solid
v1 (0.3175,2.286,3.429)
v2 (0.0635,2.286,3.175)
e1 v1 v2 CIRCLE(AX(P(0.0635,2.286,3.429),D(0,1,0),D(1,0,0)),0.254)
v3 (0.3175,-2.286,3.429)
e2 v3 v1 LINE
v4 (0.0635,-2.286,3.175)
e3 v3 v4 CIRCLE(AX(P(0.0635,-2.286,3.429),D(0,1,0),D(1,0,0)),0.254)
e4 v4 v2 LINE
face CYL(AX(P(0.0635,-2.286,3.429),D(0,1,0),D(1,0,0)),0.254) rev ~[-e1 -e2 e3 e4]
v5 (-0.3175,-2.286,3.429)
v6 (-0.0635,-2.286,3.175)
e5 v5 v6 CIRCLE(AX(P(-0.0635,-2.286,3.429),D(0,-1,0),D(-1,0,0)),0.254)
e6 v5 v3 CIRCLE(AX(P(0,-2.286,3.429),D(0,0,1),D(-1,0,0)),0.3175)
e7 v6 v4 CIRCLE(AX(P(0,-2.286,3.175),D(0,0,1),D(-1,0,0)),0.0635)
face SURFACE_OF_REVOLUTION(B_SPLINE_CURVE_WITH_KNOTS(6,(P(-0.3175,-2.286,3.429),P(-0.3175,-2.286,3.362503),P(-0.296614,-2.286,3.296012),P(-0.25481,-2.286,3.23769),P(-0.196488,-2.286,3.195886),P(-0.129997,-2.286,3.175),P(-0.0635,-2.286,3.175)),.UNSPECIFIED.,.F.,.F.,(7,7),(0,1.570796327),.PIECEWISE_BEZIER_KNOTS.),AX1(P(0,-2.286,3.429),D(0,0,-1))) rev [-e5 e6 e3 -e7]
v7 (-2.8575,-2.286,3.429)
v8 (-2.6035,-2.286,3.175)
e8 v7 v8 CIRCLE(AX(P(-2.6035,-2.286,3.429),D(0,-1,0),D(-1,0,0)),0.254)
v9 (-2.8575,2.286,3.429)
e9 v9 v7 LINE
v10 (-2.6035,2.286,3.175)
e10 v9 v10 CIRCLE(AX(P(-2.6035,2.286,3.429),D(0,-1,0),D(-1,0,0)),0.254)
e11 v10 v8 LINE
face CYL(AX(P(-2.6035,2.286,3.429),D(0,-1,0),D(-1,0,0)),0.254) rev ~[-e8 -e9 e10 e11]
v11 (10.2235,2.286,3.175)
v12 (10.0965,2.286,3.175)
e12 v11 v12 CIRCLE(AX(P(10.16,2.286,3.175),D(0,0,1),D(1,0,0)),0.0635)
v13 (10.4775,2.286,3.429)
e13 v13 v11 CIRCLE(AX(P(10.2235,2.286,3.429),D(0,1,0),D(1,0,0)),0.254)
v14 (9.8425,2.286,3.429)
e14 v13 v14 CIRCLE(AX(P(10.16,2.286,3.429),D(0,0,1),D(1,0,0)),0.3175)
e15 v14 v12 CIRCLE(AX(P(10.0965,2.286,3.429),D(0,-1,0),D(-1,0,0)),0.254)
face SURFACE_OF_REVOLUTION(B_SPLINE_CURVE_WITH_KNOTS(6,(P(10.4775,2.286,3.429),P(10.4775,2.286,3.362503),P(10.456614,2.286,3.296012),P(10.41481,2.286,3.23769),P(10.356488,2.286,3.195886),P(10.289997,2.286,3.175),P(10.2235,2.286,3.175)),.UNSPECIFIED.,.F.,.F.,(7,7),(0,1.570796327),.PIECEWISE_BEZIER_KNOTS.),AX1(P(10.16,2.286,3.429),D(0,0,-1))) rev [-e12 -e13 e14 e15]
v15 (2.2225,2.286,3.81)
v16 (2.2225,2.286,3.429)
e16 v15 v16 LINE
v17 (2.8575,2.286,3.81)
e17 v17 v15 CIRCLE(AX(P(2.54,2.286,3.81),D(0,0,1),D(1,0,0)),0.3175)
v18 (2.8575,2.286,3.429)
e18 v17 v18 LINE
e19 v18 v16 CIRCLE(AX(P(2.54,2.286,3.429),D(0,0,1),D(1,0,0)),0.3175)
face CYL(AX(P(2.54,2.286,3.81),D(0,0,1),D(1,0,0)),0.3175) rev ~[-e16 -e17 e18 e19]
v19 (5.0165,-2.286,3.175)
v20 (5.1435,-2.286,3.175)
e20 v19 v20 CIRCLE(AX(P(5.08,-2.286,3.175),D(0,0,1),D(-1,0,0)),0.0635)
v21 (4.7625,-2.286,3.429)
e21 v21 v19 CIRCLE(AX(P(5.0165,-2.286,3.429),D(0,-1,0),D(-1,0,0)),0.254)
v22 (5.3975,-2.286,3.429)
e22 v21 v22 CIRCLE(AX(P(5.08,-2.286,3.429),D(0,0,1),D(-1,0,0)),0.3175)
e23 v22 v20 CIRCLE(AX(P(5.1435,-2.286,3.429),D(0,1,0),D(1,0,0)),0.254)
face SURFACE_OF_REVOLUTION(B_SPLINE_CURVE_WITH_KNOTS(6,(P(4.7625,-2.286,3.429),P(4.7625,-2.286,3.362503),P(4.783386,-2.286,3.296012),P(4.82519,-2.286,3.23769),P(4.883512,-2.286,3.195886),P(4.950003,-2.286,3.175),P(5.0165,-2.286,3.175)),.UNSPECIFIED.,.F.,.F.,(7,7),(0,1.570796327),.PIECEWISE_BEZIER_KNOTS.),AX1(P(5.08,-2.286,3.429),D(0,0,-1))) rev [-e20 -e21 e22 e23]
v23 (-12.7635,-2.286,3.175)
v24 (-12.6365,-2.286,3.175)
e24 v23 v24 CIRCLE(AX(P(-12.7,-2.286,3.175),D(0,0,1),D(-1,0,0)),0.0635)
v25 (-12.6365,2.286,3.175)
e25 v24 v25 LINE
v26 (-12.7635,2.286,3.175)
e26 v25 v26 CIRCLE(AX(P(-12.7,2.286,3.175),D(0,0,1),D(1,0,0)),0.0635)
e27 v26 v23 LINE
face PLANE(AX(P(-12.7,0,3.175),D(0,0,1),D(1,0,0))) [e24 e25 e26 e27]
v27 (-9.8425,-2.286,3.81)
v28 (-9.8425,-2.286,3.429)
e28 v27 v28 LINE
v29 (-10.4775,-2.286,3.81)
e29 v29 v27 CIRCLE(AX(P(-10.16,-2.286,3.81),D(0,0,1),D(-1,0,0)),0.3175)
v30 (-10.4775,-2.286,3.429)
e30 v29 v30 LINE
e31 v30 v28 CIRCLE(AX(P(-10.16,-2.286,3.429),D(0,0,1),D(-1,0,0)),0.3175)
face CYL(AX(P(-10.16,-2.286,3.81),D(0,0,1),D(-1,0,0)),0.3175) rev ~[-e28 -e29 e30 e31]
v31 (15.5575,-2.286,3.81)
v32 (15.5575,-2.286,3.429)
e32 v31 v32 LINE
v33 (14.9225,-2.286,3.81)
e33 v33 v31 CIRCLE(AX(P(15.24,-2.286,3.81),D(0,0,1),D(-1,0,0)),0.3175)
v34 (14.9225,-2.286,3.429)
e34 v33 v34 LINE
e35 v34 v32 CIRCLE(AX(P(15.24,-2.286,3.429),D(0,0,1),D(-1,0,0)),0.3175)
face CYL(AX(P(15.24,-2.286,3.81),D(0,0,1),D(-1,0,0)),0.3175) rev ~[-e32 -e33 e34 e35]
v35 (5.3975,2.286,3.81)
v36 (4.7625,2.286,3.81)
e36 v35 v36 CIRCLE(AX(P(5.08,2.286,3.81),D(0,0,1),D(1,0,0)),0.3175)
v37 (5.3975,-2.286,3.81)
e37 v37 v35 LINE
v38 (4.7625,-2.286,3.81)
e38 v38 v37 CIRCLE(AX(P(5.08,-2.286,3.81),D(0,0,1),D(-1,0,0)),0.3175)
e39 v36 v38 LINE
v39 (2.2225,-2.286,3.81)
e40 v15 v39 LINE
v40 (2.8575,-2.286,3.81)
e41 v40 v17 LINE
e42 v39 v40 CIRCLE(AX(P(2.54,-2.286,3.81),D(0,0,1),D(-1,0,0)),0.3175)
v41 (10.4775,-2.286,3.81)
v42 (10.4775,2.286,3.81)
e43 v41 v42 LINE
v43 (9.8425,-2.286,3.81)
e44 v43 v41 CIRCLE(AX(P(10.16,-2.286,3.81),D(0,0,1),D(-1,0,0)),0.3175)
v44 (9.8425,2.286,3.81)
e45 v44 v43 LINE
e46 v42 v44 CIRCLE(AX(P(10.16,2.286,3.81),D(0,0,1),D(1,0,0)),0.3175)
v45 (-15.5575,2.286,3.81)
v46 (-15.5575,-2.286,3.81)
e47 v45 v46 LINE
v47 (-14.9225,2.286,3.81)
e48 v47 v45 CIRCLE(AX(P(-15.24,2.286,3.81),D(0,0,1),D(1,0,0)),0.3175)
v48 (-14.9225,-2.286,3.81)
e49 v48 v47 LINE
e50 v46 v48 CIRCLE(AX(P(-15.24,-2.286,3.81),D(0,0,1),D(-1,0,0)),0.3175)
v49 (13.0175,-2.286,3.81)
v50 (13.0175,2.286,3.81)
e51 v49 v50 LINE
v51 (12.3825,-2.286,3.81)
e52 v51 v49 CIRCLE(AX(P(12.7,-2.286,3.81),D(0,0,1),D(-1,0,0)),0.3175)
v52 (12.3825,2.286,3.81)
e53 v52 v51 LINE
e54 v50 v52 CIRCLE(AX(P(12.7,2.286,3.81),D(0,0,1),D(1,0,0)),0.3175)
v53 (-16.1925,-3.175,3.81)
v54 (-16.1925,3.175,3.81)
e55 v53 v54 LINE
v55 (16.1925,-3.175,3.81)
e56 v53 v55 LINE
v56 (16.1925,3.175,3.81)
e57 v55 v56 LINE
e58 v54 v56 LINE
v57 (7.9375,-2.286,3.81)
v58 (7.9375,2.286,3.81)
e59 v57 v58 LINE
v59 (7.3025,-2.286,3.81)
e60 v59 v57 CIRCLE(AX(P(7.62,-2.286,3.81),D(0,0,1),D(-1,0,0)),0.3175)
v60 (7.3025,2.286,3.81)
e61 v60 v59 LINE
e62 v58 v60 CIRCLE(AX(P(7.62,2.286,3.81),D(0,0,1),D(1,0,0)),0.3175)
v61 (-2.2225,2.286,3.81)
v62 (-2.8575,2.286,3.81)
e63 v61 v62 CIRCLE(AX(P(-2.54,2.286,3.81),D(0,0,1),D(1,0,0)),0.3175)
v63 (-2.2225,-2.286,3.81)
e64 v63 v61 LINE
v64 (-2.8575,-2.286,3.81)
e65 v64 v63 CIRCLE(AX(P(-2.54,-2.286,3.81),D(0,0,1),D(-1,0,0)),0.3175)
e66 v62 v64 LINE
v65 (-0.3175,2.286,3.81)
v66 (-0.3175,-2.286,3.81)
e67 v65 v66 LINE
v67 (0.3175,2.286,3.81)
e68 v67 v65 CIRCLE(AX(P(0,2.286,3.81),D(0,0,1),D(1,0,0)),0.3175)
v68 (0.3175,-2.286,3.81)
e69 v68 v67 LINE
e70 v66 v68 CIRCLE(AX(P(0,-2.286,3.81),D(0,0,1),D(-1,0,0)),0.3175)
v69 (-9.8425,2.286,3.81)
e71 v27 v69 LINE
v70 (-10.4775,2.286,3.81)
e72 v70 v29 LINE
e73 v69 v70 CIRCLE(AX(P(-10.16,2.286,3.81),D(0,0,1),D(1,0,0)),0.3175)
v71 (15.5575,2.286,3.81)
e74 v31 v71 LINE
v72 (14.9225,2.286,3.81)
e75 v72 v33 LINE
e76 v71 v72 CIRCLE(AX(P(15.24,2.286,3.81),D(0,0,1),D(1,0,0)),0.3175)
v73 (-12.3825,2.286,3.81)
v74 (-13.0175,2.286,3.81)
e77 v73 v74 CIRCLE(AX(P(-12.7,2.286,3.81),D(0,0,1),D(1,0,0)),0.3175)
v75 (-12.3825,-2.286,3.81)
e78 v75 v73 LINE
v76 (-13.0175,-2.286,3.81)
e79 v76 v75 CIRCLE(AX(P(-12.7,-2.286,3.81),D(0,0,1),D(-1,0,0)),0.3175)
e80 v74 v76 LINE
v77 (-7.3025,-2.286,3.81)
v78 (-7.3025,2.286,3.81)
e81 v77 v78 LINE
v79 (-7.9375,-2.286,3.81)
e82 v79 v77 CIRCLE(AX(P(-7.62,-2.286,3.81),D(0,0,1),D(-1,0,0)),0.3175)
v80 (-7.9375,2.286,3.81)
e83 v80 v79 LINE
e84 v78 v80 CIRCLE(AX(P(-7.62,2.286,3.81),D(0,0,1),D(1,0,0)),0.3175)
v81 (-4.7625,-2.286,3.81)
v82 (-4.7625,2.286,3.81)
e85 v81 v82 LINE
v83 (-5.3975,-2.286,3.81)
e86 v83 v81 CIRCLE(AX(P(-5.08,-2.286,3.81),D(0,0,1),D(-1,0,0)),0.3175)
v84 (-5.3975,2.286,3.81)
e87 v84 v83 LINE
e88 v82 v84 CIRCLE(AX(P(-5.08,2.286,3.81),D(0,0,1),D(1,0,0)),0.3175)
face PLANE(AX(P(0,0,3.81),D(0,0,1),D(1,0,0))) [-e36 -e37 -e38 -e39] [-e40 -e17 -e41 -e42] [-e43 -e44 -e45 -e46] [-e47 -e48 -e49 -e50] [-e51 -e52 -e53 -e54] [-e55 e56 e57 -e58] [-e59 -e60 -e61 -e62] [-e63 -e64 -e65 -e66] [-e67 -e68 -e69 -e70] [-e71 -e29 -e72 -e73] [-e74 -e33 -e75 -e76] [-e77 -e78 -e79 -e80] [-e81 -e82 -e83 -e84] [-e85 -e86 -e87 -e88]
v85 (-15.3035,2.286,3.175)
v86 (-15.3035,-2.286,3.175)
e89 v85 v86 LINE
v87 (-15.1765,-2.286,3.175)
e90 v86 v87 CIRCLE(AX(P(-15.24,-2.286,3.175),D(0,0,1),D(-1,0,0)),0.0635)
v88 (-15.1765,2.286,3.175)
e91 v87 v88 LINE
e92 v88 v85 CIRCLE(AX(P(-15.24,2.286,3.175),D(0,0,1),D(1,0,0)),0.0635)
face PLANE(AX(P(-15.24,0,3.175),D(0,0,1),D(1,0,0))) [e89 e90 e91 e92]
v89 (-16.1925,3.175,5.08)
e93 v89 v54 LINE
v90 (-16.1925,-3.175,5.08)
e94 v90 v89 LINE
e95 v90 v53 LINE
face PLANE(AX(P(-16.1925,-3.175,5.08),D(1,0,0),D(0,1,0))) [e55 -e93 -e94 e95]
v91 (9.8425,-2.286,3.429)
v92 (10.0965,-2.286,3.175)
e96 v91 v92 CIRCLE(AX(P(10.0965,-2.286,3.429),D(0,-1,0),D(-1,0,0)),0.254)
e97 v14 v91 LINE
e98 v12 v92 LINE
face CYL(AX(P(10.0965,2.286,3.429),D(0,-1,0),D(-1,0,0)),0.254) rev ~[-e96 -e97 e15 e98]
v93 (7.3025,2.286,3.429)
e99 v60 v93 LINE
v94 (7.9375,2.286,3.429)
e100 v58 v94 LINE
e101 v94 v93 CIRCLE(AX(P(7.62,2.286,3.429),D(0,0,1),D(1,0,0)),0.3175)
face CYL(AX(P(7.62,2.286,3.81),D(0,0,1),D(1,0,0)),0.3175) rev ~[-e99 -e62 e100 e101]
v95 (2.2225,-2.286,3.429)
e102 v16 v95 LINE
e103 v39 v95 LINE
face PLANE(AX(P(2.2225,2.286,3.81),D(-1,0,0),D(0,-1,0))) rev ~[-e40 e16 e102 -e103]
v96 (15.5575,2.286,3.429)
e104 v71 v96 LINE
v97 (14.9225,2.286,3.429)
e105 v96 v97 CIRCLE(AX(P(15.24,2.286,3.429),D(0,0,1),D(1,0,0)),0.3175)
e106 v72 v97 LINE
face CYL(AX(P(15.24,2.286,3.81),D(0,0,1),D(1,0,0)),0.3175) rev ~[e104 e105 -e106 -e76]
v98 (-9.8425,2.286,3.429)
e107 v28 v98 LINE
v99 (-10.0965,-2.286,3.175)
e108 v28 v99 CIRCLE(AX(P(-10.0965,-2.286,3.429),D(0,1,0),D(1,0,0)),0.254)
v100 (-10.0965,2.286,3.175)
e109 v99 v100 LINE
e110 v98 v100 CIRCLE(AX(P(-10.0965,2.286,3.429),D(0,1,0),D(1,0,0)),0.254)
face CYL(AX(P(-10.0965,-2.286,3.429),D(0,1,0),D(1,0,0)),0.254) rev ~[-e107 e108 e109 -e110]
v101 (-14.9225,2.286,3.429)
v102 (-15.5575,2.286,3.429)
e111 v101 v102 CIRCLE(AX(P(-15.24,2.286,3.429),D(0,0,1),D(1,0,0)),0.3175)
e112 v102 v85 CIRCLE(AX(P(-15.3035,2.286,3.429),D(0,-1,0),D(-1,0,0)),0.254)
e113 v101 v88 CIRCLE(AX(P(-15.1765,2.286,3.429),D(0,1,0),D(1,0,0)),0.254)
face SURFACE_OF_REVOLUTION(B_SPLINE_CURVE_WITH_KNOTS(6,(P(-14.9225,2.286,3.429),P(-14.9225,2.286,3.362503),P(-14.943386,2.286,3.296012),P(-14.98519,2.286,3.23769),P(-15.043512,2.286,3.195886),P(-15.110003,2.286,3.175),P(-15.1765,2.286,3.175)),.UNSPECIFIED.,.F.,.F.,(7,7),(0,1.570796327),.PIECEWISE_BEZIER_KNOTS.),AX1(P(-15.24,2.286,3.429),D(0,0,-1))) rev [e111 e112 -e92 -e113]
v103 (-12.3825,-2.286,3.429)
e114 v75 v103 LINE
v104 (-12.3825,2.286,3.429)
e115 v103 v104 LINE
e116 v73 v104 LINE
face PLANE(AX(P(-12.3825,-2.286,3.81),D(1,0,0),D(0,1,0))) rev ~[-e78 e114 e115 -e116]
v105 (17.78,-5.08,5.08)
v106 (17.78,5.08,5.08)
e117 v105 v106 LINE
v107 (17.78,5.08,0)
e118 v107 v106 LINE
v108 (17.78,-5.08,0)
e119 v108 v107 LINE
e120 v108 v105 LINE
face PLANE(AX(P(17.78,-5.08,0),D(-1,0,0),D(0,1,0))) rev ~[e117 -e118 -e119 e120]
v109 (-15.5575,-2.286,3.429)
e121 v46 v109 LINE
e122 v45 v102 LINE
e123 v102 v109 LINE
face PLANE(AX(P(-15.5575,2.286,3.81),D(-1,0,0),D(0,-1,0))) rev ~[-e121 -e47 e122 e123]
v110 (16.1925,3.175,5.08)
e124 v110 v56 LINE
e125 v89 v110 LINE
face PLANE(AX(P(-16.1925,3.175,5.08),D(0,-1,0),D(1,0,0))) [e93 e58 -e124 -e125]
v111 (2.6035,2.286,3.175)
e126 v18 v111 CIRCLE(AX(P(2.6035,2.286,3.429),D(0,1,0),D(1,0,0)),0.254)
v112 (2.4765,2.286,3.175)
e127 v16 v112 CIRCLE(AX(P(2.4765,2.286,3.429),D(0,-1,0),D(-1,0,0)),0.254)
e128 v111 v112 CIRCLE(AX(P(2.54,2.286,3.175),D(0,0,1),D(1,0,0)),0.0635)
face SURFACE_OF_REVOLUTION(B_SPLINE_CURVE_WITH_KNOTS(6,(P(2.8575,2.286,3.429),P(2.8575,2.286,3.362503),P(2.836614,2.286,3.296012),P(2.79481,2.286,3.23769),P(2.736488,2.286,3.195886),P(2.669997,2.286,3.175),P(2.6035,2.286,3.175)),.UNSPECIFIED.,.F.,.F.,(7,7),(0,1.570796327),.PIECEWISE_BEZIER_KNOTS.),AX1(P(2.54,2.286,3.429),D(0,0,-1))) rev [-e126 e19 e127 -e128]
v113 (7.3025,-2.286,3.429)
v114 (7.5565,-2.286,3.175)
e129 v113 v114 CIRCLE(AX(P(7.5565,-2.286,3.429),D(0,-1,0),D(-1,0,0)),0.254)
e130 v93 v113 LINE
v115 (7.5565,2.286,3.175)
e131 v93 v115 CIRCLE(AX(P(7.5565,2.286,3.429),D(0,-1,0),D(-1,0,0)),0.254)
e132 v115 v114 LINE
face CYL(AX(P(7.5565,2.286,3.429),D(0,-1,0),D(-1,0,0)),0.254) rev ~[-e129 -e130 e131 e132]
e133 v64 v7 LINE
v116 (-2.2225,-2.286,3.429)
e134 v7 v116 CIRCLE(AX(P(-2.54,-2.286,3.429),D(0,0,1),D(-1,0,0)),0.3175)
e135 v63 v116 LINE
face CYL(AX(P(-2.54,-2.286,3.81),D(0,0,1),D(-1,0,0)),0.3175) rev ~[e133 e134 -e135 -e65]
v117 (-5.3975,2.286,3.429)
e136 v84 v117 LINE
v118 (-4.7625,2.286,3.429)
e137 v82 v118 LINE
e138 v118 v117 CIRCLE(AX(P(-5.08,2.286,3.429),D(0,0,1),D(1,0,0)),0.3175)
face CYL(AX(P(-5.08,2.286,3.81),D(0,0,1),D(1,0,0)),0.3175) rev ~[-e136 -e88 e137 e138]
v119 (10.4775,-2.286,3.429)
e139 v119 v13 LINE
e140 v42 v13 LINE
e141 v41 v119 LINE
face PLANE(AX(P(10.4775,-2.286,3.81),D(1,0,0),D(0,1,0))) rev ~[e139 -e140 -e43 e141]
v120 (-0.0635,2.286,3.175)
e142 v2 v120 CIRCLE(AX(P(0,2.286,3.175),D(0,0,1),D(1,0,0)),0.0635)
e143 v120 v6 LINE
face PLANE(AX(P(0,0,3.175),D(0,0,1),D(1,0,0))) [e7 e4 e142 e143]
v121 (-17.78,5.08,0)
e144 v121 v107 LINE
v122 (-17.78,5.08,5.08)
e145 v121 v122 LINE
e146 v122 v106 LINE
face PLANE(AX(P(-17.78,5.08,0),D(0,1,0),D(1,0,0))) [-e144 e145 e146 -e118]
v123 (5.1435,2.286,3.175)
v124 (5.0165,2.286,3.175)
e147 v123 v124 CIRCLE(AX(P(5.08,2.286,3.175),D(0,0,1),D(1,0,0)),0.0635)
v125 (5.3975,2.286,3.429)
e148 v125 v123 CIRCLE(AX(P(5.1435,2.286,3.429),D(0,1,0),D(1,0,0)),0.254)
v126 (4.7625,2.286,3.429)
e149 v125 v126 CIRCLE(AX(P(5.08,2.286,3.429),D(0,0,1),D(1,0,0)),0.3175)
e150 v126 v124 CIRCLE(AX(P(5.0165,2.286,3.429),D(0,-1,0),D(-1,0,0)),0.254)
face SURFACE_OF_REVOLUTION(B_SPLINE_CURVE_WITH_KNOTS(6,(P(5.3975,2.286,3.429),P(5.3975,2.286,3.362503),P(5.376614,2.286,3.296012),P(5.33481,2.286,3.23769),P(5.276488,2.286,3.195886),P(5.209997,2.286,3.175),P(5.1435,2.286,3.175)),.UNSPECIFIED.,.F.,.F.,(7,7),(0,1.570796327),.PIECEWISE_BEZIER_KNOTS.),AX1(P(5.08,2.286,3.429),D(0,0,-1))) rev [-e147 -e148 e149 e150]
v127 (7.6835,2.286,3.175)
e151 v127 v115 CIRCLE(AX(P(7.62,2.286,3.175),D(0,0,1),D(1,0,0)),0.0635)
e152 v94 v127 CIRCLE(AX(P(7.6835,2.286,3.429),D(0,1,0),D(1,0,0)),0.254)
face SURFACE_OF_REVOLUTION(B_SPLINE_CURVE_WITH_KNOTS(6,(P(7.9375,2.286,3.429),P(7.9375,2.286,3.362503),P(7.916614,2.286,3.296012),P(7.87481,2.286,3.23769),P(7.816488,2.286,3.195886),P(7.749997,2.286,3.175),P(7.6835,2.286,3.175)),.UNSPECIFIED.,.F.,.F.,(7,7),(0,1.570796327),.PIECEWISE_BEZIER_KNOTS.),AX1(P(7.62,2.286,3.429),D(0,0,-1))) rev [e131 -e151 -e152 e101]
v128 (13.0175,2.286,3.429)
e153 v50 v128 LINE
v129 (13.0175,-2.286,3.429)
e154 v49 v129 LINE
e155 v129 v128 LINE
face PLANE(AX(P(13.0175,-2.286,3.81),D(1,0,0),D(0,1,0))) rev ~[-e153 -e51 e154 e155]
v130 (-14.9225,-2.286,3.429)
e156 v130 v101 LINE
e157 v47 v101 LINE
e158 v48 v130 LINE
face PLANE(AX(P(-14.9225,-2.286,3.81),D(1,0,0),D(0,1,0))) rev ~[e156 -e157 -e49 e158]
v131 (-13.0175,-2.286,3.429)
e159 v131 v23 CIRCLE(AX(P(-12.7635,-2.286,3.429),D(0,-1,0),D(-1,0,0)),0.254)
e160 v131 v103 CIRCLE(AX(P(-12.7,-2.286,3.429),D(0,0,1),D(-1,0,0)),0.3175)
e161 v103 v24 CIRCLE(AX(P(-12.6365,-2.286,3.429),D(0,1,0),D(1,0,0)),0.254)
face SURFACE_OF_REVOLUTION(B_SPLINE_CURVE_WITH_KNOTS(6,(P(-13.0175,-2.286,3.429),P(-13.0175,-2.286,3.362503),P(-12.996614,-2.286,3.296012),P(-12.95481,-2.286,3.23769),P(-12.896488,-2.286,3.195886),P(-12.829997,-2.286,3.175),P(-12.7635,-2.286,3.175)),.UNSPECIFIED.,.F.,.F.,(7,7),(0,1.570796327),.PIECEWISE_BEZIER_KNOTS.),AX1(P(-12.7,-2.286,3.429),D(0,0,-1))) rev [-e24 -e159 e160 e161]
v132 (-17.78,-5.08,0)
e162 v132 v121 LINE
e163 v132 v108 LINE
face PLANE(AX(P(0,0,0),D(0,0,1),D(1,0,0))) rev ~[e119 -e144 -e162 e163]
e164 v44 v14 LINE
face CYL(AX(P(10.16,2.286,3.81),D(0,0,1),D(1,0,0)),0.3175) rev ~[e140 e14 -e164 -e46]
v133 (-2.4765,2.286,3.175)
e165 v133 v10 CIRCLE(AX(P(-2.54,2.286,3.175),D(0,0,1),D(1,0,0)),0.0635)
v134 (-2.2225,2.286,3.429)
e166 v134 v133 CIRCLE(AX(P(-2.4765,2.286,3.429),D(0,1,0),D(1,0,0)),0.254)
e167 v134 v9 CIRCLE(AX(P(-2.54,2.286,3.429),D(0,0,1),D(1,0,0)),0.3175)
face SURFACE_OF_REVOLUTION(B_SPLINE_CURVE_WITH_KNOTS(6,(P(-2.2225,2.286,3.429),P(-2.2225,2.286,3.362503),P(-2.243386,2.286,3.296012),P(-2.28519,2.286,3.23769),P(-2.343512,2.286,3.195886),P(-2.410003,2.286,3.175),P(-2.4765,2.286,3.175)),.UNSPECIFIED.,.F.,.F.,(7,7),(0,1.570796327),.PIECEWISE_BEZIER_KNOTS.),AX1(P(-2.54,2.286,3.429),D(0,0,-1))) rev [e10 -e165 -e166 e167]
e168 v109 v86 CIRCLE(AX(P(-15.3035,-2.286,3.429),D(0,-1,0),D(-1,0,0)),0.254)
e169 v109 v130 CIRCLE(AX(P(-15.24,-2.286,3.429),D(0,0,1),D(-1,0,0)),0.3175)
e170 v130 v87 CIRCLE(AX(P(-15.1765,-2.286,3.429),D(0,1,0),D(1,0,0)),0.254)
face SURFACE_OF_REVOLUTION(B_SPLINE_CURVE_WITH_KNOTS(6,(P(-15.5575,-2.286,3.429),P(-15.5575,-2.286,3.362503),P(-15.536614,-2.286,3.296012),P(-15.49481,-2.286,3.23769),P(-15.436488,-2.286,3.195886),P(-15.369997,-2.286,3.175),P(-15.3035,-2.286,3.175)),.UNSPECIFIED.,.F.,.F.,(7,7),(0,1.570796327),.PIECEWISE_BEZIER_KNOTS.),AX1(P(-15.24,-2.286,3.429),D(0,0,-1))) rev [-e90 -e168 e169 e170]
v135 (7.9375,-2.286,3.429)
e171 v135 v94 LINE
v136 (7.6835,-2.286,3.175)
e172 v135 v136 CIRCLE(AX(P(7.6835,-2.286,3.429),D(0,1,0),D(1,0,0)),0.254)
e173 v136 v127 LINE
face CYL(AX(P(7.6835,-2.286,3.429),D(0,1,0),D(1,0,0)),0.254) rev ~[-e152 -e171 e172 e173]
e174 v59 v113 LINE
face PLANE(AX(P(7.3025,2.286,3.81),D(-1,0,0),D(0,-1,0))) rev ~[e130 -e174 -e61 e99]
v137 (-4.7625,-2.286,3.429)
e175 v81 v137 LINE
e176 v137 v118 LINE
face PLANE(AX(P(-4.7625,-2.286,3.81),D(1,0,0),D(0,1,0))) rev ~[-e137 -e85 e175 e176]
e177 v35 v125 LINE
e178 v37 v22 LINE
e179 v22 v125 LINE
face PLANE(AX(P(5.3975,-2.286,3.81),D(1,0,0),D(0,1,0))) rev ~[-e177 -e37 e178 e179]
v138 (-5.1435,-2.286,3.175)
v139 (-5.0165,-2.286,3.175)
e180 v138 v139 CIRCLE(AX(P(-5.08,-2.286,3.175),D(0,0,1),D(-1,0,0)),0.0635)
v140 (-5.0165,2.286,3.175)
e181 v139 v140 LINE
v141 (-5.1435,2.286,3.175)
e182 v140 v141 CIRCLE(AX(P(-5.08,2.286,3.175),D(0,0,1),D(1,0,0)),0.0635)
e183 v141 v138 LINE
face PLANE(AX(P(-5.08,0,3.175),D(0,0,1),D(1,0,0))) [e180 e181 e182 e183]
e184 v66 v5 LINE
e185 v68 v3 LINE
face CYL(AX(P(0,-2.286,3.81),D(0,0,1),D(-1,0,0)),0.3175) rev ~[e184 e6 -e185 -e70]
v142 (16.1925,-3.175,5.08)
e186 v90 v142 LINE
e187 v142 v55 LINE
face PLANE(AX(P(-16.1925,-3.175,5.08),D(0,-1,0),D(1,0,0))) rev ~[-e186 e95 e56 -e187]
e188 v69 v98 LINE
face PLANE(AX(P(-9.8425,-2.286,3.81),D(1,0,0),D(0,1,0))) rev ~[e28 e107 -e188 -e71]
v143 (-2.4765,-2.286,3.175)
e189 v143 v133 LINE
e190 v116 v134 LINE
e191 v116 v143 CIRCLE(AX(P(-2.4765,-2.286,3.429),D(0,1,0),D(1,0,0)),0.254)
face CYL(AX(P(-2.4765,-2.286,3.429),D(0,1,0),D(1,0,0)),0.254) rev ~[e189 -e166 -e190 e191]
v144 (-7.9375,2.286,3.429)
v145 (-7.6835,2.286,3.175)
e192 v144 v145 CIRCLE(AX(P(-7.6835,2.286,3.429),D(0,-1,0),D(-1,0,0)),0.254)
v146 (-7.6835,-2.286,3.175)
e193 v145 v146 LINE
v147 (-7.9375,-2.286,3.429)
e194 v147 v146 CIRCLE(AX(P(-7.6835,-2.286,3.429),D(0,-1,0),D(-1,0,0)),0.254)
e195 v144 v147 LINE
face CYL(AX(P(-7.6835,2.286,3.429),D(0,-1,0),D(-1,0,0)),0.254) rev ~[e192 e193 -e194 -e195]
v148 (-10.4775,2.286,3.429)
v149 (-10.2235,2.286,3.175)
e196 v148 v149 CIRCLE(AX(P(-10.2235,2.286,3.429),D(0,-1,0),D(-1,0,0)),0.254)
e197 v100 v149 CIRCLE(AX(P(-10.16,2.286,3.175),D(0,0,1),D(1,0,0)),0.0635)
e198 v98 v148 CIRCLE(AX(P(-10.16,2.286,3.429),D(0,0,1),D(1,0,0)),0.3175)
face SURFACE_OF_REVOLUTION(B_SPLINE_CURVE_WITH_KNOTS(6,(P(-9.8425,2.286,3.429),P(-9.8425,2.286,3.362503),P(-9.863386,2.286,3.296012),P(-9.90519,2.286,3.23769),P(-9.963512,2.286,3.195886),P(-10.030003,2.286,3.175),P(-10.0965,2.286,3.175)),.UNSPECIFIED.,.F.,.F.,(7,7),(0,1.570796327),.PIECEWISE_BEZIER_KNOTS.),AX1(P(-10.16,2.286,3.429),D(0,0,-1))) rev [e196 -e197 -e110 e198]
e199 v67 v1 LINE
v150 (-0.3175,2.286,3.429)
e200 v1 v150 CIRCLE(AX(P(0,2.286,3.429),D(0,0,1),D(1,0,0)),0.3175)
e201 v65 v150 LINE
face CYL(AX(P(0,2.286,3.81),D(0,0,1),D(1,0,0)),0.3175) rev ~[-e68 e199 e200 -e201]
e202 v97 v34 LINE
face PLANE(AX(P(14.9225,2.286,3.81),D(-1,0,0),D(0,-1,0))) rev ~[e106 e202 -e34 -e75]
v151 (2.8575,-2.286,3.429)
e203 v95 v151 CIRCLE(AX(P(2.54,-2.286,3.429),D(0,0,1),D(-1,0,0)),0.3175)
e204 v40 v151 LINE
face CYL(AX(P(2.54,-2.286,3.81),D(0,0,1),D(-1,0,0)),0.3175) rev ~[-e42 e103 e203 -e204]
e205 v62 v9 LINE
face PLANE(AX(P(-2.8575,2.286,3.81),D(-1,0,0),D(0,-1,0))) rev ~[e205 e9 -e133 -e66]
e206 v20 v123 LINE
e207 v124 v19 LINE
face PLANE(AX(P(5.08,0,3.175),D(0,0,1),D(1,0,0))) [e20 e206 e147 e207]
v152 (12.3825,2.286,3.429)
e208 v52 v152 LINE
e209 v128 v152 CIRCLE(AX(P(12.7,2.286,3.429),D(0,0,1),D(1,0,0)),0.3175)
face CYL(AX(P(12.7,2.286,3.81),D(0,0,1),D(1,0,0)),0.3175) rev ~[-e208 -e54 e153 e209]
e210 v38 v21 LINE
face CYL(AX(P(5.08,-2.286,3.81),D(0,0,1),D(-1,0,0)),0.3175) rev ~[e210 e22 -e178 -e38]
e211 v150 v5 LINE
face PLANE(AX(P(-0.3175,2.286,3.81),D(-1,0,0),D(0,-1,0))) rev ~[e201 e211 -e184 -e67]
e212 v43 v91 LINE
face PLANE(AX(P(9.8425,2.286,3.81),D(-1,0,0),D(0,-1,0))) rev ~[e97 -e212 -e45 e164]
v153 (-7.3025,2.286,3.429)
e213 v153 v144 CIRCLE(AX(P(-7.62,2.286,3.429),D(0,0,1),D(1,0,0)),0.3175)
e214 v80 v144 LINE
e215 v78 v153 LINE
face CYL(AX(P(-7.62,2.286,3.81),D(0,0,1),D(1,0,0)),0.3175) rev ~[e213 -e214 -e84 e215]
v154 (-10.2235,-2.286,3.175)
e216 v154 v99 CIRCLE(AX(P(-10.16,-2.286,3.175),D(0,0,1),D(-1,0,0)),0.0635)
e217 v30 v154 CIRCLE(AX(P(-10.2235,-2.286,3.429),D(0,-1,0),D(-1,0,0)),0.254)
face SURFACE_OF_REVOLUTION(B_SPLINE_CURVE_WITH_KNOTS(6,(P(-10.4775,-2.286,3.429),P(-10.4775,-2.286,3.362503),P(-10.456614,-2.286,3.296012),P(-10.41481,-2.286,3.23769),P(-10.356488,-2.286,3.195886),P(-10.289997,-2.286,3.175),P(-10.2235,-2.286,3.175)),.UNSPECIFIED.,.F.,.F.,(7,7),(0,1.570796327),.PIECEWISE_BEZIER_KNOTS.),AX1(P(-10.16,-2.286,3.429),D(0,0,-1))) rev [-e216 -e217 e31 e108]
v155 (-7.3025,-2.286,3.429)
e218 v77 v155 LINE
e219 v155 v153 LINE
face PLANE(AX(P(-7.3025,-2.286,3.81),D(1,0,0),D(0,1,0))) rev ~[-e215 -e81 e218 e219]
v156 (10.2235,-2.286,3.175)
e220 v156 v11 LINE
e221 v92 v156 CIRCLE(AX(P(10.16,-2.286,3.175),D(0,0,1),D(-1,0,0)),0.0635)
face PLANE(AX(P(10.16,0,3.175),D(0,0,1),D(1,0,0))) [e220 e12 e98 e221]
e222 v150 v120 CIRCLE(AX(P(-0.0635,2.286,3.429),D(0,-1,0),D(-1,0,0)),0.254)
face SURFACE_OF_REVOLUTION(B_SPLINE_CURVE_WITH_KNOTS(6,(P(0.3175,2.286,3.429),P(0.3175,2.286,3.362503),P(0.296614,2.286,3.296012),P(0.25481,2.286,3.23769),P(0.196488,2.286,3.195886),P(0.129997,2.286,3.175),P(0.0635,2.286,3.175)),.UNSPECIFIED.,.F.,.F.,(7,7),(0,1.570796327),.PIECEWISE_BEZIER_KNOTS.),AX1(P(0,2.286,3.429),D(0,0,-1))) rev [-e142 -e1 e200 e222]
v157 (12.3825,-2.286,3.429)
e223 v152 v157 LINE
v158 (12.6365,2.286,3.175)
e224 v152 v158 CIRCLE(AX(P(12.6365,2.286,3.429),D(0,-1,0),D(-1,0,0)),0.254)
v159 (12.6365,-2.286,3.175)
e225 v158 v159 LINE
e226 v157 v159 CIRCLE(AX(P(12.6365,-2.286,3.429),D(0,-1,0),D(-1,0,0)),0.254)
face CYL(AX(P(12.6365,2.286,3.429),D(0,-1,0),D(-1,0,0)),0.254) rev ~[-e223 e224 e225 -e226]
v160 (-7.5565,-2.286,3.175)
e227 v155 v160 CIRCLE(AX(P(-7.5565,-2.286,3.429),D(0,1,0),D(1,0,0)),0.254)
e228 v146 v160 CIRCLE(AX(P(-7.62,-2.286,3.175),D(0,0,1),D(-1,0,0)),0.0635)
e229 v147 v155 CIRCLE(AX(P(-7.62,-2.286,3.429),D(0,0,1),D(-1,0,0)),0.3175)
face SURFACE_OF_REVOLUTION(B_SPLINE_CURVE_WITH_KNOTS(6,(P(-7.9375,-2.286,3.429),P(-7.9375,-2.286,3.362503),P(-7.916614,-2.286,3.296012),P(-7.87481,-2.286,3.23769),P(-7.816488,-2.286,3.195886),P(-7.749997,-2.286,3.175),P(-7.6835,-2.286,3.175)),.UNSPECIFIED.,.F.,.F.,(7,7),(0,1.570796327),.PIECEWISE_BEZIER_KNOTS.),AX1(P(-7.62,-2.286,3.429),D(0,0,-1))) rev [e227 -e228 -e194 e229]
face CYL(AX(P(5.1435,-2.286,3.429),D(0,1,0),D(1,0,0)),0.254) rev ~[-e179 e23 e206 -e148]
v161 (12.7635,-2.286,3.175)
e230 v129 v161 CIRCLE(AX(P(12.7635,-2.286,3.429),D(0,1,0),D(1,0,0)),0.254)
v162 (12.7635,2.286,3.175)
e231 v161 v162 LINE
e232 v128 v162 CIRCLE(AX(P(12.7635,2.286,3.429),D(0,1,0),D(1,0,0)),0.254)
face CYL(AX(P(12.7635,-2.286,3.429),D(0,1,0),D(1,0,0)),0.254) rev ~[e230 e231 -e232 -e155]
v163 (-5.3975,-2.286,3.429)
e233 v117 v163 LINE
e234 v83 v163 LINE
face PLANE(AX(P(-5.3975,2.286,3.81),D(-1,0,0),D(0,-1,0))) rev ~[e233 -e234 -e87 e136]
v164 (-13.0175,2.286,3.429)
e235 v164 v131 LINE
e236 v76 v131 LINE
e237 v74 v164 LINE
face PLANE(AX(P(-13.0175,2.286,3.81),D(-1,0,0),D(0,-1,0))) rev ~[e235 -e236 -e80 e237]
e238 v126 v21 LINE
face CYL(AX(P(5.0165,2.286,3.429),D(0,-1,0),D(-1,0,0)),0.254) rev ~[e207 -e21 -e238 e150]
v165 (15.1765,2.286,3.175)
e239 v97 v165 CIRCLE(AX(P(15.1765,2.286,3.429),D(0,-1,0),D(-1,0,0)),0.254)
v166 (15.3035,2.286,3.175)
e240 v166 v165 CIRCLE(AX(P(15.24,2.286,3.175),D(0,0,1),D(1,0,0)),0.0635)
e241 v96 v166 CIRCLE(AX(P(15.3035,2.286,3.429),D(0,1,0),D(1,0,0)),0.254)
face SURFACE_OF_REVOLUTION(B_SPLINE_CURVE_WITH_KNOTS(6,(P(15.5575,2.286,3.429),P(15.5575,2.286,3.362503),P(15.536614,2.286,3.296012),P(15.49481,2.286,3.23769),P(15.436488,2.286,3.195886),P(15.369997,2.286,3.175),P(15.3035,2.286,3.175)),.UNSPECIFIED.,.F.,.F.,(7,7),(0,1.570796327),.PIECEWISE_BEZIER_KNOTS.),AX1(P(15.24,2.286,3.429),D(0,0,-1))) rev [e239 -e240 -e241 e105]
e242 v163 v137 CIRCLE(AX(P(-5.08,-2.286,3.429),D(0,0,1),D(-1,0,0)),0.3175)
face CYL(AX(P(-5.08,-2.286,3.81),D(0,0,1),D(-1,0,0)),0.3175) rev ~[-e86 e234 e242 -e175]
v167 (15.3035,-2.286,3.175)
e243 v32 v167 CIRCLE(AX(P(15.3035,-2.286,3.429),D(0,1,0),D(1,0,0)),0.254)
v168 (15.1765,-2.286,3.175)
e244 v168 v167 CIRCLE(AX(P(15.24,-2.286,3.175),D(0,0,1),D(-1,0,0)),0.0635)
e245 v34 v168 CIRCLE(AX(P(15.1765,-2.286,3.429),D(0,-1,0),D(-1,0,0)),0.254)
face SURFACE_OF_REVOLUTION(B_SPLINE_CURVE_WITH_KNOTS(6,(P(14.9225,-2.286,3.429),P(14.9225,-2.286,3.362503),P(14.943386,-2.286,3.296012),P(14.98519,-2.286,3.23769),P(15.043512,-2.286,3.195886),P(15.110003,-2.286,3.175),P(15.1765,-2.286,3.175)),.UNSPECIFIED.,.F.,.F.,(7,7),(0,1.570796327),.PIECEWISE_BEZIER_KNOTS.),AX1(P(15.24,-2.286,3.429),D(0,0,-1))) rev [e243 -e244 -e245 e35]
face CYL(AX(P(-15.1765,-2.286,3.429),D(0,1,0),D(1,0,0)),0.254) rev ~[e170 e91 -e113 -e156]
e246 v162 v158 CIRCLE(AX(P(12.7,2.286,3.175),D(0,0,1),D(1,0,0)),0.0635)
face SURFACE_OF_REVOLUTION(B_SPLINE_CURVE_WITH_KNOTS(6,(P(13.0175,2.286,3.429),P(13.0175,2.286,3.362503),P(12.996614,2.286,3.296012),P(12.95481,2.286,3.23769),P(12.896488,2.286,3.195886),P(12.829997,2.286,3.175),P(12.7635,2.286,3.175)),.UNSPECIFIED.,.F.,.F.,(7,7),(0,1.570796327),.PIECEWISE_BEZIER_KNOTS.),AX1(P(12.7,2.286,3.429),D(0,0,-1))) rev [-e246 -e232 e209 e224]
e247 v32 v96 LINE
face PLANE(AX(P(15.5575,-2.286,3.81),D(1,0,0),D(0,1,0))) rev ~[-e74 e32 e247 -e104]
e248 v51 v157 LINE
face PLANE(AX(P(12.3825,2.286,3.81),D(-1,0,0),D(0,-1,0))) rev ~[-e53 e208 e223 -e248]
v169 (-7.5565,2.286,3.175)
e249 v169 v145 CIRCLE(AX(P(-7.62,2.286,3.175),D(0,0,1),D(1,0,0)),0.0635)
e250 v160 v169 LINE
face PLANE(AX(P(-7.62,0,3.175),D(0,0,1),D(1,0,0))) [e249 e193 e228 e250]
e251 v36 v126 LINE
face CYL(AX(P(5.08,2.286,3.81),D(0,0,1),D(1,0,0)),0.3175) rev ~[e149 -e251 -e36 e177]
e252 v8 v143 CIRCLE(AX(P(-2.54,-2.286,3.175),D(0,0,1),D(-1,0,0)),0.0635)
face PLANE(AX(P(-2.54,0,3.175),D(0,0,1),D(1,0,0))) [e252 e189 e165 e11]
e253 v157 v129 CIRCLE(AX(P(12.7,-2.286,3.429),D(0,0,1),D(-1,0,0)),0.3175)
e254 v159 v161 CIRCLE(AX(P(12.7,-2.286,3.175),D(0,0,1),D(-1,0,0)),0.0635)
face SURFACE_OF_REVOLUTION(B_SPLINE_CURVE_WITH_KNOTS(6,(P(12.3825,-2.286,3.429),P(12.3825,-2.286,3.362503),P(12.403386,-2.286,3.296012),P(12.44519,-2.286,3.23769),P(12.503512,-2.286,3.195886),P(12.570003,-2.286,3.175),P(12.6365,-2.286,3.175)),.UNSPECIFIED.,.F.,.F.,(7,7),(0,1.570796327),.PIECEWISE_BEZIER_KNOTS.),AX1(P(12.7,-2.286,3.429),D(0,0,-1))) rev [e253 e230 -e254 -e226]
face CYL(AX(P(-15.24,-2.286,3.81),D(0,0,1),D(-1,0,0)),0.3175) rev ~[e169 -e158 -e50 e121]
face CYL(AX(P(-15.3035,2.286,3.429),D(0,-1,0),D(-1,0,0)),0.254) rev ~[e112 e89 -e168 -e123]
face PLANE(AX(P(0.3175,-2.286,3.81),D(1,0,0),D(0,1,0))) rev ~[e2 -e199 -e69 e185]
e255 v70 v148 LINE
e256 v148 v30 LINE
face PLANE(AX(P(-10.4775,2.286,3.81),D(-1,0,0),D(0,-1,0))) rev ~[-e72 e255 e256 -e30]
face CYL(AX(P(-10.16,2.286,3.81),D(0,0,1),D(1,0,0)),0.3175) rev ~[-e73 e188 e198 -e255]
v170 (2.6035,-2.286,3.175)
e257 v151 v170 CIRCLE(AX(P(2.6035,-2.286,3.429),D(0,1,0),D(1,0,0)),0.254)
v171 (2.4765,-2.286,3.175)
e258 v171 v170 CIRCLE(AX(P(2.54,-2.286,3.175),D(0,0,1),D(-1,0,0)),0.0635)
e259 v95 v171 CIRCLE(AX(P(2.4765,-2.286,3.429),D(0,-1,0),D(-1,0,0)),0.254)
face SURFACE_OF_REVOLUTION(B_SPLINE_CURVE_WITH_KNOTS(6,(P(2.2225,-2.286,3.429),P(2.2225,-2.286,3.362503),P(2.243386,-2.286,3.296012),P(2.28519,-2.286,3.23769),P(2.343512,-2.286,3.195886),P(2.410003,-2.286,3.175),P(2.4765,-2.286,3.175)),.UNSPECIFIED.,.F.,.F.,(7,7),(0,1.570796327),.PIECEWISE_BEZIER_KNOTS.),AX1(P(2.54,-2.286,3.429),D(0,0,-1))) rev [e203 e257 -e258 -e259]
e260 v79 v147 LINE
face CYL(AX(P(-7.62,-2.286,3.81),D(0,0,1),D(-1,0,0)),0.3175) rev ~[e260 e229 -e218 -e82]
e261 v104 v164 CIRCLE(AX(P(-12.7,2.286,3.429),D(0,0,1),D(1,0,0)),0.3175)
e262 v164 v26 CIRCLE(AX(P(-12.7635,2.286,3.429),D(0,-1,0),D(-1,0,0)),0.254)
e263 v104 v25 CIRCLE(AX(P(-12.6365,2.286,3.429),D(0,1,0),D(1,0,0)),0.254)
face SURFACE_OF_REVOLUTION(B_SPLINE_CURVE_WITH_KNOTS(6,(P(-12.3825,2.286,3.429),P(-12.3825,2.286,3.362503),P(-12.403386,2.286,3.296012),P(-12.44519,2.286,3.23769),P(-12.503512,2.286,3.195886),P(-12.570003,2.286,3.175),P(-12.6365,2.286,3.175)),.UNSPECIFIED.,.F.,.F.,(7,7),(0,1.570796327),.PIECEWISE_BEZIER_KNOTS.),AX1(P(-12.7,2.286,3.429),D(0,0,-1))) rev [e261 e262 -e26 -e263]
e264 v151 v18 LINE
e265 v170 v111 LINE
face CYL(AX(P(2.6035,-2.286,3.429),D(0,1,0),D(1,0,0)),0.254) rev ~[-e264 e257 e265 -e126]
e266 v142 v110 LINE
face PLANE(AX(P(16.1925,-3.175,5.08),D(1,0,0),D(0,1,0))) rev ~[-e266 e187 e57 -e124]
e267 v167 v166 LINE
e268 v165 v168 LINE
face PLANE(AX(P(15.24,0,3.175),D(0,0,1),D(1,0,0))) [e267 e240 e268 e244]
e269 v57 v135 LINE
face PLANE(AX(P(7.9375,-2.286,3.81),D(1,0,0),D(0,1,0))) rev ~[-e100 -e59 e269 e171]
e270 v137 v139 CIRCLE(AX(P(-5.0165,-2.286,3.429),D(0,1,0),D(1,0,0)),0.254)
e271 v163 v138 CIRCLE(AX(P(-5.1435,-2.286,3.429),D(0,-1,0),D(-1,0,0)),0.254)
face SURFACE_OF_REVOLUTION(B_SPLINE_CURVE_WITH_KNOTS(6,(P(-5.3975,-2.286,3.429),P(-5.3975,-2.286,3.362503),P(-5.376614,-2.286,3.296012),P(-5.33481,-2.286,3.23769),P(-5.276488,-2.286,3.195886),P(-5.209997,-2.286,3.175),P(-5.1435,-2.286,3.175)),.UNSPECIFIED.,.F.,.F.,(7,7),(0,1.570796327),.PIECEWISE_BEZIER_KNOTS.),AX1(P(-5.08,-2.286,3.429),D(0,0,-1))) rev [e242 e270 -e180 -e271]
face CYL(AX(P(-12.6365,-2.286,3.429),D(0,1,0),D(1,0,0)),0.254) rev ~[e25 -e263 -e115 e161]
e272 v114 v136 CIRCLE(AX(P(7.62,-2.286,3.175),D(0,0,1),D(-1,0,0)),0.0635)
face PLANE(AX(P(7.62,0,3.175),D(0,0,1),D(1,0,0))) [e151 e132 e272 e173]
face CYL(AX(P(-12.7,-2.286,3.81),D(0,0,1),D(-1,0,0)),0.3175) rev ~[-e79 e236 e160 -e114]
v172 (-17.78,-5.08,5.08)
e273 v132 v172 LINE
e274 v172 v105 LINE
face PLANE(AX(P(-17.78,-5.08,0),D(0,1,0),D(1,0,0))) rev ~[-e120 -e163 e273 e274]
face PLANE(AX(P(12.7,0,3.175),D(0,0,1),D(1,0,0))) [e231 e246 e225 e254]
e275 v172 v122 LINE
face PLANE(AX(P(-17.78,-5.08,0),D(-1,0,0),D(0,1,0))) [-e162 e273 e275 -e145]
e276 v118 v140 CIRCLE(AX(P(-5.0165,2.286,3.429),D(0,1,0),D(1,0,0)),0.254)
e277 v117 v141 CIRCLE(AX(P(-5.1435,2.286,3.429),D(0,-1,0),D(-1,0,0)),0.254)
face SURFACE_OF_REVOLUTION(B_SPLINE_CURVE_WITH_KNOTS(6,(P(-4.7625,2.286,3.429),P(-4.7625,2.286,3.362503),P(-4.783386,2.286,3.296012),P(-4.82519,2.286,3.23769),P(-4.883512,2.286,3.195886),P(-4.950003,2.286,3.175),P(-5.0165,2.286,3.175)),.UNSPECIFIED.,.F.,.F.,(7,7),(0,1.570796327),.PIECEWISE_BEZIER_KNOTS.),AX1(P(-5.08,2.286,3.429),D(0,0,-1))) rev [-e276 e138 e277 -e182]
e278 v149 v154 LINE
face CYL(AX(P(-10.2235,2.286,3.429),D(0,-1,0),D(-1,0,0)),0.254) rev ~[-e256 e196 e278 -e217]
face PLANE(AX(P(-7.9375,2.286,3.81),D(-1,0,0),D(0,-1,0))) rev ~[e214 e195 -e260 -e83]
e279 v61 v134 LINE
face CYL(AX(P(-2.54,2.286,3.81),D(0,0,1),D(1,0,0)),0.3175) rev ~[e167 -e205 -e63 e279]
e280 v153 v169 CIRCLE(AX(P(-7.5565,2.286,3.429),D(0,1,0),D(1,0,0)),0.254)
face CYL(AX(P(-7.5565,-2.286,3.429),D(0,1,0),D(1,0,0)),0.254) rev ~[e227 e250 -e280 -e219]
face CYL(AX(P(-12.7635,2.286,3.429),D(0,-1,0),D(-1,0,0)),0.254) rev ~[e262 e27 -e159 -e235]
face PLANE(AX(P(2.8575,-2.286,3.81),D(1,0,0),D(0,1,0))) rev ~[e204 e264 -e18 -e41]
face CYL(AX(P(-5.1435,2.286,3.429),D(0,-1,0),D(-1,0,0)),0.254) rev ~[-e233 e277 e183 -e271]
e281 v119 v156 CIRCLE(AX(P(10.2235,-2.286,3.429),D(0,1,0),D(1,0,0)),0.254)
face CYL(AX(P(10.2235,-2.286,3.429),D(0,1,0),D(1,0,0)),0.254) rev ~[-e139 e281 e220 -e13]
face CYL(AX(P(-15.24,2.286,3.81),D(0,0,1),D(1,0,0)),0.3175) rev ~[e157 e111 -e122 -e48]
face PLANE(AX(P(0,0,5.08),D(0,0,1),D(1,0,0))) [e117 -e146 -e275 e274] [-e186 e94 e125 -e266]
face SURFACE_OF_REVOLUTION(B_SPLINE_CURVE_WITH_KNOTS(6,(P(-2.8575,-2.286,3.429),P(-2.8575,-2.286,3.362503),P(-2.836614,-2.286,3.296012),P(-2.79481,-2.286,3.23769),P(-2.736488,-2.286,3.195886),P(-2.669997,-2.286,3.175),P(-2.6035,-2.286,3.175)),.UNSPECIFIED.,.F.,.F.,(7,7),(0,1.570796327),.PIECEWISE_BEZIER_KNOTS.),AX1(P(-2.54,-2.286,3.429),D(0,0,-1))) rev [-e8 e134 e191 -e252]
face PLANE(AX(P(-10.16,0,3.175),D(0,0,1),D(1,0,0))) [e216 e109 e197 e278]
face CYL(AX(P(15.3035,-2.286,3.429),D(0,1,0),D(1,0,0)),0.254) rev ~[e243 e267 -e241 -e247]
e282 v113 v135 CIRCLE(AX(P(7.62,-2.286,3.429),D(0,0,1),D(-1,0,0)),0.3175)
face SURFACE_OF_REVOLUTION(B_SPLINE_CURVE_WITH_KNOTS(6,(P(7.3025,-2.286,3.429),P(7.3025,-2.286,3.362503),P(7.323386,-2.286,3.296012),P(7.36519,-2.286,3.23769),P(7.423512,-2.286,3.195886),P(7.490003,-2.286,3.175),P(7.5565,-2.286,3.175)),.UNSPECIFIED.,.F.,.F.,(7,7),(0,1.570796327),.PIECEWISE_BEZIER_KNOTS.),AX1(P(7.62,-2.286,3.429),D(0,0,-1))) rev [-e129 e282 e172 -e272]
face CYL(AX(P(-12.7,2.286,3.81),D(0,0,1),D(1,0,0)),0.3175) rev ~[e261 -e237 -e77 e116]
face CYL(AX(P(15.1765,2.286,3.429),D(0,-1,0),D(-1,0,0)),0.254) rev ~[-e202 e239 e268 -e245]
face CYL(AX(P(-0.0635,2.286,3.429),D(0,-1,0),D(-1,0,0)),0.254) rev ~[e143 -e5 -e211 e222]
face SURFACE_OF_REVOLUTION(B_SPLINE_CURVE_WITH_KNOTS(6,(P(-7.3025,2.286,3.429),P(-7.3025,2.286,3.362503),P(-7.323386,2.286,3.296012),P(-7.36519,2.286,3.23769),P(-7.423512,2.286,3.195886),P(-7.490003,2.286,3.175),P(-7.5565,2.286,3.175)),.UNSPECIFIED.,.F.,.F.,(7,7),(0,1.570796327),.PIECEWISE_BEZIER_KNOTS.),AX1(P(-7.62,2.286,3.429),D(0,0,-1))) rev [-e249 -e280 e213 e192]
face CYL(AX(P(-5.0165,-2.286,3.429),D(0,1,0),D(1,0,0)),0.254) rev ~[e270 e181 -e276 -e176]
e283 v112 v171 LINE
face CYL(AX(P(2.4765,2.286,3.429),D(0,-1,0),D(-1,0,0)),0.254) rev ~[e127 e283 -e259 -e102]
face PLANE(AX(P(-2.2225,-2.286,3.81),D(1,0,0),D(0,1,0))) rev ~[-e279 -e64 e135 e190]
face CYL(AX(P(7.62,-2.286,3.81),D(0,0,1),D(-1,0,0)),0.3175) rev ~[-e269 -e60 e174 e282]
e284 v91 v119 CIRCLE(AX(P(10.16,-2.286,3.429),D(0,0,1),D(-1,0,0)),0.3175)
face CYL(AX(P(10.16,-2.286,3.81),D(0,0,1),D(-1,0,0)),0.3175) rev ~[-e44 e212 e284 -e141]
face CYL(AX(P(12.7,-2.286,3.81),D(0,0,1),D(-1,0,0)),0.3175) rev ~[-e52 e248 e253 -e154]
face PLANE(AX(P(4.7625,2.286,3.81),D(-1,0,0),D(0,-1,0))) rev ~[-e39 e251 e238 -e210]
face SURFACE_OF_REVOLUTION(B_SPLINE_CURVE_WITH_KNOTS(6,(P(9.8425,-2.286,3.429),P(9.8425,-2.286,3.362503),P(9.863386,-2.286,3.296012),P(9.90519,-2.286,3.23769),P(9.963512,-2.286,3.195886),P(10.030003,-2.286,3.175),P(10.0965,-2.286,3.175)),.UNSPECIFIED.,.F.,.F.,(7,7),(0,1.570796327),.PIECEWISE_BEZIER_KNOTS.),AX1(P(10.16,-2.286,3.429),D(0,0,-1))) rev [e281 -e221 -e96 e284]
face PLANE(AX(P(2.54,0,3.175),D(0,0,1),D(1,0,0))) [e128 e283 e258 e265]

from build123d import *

# Parameters (mm, degrees)
F0_W     = 35.56
F0_H     = 10.16
F1_DEPTH = 5.08
F2_W     = 32.385
F2_H     = 6.35
F3_DEPTH = 1.27
F5_DEPTH = 0.635
F6_R     = 0.254


with BuildPart() as f1:
    # F0 (on Top) → F1 (new body)
    with BuildSketch(Plane.XY):
        Rectangle(F0_W, F0_H)
    extrude(amount=F1_DEPTH)

    # F2 (on face) → F3 (cut)
    with BuildSketch(Plane.XY.offset(5.08)):
        Rectangle(F2_W, F2_H)
    extrude(amount=-F3_DEPTH, mode=Mode.SUBTRACT)

    # F4 (on face) → F5 (cut)
    with BuildSketch(Plane.XY.offset(3.81)):
        with BuildLine():
            ThreePointArc((0.3175, 2.286), (0, 2.6035), (-0.3175, 2.286))
            Line((-0.3175, 2.286), (-0.3175, -2.286))
            ThreePointArc((-0.3175, -2.286), (0, -2.6035), (0.3175, -2.286))
            Line((0.3175, -2.286), (0.3175, 2.286))
        make_face()
        with BuildLine():
            ThreePointArc((2.8575, 2.286), (2.54, 2.6035), (2.2225, 2.286))
            Line((2.2225, 2.286), (2.2225, -2.286))
            ThreePointArc((2.2225, -2.286), (2.54, -2.6035), (2.8575, -2.286))
            Line((2.8575, -2.286), (2.8575, 2.286))
        make_face()
        with BuildLine():
            ThreePointArc((5.3975, 2.286), (5.08, 2.6035), (4.7625, 2.286))
            Line((4.7625, 2.286), (4.7625, -2.286))
            ThreePointArc((4.7625, -2.286), (5.08, -2.6035), (5.3975, -2.286))
            Line((5.3975, -2.286), (5.3975, 2.286))
        make_face()
        with BuildLine():
            ThreePointArc((7.9375, 2.286), (7.62, 2.6035), (7.3025, 2.286))
            Line((7.3025, 2.286), (7.3025, -2.286))
            ThreePointArc((7.3025, -2.286), (7.62, -2.6035), (7.9375, -2.286))
            Line((7.9375, -2.286), (7.9375, 2.286))
        make_face()
        with BuildLine():
            ThreePointArc((10.4775, 2.286), (10.16, 2.6035), (9.8425, 2.286))
            Line((9.8425, 2.286), (9.8425, -2.286))
            ThreePointArc((9.8425, -2.286), (10.16, -2.6035), (10.4775, -2.286))
            Line((10.4775, -2.286), (10.4775, 2.286))
        make_face()
        with BuildLine():
            ThreePointArc((-2.2225, 2.286), (-2.54, 2.6035), (-2.8575, 2.286))
            Line((-2.8575, 2.286), (-2.8575, -2.286))
            ThreePointArc((-2.8575, -2.286), (-2.54, -2.6035), (-2.2225, -2.286))
            Line((-2.2225, -2.286), (-2.2225, 2.286))
        make_face()
        with BuildLine():
            ThreePointArc((-4.7625, 2.286), (-5.08, 2.6035), (-5.3975, 2.286))
            Line((-5.3975, 2.286), (-5.3975, -2.286))
            ThreePointArc((-5.3975, -2.286), (-5.08, -2.6035), (-4.7625, -2.286))
            Line((-4.7625, -2.286), (-4.7625, 2.286))
        make_face()
        with BuildLine():
            ThreePointArc((-7.3025, 2.286), (-7.62, 2.6035), (-7.9375, 2.286))
            Line((-7.9375, 2.286), (-7.9375, -2.286))
            ThreePointArc((-7.9375, -2.286), (-7.62, -2.6035), (-7.3025, -2.286))
            Line((-7.3025, -2.286), (-7.3025, 2.286))
        make_face()
        with BuildLine():
            ThreePointArc((-9.8425, 2.286), (-10.16, 2.6035), (-10.4775, 2.286))
            Line((-10.4775, 2.286), (-10.4775, -2.286))
            ThreePointArc((-10.4775, -2.286), (-10.16, -2.6035), (-9.8425, -2.286))
            Line((-9.8425, -2.286), (-9.8425, 2.286))
        make_face()
        with BuildLine():
            ThreePointArc((13.0175, 2.286), (12.7, 2.6035), (12.3825, 2.286))
            Line((12.3825, 2.286), (12.3825, -2.286))
            ThreePointArc((12.3825, -2.286), (12.7, -2.6035), (13.0175, -2.286))
            Line((13.0175, -2.286), (13.0175, 2.286))
        make_face()
        with BuildLine():
            ThreePointArc((15.5575, 2.286), (15.24, 2.6035), (14.9225, 2.286))
            Line((14.9225, 2.286), (14.9225, -2.286))
            ThreePointArc((14.9225, -2.286), (15.24, -2.6035), (15.5575, -2.286))
            Line((15.5575, -2.286), (15.5575, 2.286))
        make_face()
        with BuildLine():
            ThreePointArc((-12.3825, 2.286), (-12.7, 2.6035), (-13.0175, 2.286))
            Line((-13.0175, 2.286), (-13.0175, -2.286))
            ThreePointArc((-13.0175, -2.286), (-12.7, -2.6035), (-12.3825, -2.286))
            Line((-12.3825, -2.286), (-12.3825, 2.286))
        make_face()
        with BuildLine():
            ThreePointArc((-14.9225, 2.286), (-15.24, 2.6035), (-15.5575, 2.286))
            Line((-15.5575, 2.286), (-15.5575, -2.286))
            ThreePointArc((-15.5575, -2.286), (-15.24, -2.6035), (-14.9225, -2.286))
            Line((-14.9225, -2.286), (-14.9225, 2.286))
        make_face()
    extrude(amount=-F5_DEPTH, mode=Mode.SUBTRACT)

    # F6
    f6_edges = [f1.edges().sort_by_distance(p)[0] for p in [
        (-10.4775, 0, 3.175),
        (-7.9375, 0, 3.175),
        (-5.3975, 0, 3.175),
        (-2.8575, 0, 3.175),
        (-0.3175, 0, 3.175),
        (2.2225, 0, 3.175),
        (4.7625, 0, 3.175),
        (7.3025, 0, 3.175),
        (9.8425, 0, 3.175),
        (-15.5575, 0, 3.175),
        (-13.0175, 0, 3.175),
        (12.3825, 0, 3.175),
        (14.9225, 0, 3.175),
    ]]
    fillet(f6_edges, radius=F6_R)


solid = f1.part
